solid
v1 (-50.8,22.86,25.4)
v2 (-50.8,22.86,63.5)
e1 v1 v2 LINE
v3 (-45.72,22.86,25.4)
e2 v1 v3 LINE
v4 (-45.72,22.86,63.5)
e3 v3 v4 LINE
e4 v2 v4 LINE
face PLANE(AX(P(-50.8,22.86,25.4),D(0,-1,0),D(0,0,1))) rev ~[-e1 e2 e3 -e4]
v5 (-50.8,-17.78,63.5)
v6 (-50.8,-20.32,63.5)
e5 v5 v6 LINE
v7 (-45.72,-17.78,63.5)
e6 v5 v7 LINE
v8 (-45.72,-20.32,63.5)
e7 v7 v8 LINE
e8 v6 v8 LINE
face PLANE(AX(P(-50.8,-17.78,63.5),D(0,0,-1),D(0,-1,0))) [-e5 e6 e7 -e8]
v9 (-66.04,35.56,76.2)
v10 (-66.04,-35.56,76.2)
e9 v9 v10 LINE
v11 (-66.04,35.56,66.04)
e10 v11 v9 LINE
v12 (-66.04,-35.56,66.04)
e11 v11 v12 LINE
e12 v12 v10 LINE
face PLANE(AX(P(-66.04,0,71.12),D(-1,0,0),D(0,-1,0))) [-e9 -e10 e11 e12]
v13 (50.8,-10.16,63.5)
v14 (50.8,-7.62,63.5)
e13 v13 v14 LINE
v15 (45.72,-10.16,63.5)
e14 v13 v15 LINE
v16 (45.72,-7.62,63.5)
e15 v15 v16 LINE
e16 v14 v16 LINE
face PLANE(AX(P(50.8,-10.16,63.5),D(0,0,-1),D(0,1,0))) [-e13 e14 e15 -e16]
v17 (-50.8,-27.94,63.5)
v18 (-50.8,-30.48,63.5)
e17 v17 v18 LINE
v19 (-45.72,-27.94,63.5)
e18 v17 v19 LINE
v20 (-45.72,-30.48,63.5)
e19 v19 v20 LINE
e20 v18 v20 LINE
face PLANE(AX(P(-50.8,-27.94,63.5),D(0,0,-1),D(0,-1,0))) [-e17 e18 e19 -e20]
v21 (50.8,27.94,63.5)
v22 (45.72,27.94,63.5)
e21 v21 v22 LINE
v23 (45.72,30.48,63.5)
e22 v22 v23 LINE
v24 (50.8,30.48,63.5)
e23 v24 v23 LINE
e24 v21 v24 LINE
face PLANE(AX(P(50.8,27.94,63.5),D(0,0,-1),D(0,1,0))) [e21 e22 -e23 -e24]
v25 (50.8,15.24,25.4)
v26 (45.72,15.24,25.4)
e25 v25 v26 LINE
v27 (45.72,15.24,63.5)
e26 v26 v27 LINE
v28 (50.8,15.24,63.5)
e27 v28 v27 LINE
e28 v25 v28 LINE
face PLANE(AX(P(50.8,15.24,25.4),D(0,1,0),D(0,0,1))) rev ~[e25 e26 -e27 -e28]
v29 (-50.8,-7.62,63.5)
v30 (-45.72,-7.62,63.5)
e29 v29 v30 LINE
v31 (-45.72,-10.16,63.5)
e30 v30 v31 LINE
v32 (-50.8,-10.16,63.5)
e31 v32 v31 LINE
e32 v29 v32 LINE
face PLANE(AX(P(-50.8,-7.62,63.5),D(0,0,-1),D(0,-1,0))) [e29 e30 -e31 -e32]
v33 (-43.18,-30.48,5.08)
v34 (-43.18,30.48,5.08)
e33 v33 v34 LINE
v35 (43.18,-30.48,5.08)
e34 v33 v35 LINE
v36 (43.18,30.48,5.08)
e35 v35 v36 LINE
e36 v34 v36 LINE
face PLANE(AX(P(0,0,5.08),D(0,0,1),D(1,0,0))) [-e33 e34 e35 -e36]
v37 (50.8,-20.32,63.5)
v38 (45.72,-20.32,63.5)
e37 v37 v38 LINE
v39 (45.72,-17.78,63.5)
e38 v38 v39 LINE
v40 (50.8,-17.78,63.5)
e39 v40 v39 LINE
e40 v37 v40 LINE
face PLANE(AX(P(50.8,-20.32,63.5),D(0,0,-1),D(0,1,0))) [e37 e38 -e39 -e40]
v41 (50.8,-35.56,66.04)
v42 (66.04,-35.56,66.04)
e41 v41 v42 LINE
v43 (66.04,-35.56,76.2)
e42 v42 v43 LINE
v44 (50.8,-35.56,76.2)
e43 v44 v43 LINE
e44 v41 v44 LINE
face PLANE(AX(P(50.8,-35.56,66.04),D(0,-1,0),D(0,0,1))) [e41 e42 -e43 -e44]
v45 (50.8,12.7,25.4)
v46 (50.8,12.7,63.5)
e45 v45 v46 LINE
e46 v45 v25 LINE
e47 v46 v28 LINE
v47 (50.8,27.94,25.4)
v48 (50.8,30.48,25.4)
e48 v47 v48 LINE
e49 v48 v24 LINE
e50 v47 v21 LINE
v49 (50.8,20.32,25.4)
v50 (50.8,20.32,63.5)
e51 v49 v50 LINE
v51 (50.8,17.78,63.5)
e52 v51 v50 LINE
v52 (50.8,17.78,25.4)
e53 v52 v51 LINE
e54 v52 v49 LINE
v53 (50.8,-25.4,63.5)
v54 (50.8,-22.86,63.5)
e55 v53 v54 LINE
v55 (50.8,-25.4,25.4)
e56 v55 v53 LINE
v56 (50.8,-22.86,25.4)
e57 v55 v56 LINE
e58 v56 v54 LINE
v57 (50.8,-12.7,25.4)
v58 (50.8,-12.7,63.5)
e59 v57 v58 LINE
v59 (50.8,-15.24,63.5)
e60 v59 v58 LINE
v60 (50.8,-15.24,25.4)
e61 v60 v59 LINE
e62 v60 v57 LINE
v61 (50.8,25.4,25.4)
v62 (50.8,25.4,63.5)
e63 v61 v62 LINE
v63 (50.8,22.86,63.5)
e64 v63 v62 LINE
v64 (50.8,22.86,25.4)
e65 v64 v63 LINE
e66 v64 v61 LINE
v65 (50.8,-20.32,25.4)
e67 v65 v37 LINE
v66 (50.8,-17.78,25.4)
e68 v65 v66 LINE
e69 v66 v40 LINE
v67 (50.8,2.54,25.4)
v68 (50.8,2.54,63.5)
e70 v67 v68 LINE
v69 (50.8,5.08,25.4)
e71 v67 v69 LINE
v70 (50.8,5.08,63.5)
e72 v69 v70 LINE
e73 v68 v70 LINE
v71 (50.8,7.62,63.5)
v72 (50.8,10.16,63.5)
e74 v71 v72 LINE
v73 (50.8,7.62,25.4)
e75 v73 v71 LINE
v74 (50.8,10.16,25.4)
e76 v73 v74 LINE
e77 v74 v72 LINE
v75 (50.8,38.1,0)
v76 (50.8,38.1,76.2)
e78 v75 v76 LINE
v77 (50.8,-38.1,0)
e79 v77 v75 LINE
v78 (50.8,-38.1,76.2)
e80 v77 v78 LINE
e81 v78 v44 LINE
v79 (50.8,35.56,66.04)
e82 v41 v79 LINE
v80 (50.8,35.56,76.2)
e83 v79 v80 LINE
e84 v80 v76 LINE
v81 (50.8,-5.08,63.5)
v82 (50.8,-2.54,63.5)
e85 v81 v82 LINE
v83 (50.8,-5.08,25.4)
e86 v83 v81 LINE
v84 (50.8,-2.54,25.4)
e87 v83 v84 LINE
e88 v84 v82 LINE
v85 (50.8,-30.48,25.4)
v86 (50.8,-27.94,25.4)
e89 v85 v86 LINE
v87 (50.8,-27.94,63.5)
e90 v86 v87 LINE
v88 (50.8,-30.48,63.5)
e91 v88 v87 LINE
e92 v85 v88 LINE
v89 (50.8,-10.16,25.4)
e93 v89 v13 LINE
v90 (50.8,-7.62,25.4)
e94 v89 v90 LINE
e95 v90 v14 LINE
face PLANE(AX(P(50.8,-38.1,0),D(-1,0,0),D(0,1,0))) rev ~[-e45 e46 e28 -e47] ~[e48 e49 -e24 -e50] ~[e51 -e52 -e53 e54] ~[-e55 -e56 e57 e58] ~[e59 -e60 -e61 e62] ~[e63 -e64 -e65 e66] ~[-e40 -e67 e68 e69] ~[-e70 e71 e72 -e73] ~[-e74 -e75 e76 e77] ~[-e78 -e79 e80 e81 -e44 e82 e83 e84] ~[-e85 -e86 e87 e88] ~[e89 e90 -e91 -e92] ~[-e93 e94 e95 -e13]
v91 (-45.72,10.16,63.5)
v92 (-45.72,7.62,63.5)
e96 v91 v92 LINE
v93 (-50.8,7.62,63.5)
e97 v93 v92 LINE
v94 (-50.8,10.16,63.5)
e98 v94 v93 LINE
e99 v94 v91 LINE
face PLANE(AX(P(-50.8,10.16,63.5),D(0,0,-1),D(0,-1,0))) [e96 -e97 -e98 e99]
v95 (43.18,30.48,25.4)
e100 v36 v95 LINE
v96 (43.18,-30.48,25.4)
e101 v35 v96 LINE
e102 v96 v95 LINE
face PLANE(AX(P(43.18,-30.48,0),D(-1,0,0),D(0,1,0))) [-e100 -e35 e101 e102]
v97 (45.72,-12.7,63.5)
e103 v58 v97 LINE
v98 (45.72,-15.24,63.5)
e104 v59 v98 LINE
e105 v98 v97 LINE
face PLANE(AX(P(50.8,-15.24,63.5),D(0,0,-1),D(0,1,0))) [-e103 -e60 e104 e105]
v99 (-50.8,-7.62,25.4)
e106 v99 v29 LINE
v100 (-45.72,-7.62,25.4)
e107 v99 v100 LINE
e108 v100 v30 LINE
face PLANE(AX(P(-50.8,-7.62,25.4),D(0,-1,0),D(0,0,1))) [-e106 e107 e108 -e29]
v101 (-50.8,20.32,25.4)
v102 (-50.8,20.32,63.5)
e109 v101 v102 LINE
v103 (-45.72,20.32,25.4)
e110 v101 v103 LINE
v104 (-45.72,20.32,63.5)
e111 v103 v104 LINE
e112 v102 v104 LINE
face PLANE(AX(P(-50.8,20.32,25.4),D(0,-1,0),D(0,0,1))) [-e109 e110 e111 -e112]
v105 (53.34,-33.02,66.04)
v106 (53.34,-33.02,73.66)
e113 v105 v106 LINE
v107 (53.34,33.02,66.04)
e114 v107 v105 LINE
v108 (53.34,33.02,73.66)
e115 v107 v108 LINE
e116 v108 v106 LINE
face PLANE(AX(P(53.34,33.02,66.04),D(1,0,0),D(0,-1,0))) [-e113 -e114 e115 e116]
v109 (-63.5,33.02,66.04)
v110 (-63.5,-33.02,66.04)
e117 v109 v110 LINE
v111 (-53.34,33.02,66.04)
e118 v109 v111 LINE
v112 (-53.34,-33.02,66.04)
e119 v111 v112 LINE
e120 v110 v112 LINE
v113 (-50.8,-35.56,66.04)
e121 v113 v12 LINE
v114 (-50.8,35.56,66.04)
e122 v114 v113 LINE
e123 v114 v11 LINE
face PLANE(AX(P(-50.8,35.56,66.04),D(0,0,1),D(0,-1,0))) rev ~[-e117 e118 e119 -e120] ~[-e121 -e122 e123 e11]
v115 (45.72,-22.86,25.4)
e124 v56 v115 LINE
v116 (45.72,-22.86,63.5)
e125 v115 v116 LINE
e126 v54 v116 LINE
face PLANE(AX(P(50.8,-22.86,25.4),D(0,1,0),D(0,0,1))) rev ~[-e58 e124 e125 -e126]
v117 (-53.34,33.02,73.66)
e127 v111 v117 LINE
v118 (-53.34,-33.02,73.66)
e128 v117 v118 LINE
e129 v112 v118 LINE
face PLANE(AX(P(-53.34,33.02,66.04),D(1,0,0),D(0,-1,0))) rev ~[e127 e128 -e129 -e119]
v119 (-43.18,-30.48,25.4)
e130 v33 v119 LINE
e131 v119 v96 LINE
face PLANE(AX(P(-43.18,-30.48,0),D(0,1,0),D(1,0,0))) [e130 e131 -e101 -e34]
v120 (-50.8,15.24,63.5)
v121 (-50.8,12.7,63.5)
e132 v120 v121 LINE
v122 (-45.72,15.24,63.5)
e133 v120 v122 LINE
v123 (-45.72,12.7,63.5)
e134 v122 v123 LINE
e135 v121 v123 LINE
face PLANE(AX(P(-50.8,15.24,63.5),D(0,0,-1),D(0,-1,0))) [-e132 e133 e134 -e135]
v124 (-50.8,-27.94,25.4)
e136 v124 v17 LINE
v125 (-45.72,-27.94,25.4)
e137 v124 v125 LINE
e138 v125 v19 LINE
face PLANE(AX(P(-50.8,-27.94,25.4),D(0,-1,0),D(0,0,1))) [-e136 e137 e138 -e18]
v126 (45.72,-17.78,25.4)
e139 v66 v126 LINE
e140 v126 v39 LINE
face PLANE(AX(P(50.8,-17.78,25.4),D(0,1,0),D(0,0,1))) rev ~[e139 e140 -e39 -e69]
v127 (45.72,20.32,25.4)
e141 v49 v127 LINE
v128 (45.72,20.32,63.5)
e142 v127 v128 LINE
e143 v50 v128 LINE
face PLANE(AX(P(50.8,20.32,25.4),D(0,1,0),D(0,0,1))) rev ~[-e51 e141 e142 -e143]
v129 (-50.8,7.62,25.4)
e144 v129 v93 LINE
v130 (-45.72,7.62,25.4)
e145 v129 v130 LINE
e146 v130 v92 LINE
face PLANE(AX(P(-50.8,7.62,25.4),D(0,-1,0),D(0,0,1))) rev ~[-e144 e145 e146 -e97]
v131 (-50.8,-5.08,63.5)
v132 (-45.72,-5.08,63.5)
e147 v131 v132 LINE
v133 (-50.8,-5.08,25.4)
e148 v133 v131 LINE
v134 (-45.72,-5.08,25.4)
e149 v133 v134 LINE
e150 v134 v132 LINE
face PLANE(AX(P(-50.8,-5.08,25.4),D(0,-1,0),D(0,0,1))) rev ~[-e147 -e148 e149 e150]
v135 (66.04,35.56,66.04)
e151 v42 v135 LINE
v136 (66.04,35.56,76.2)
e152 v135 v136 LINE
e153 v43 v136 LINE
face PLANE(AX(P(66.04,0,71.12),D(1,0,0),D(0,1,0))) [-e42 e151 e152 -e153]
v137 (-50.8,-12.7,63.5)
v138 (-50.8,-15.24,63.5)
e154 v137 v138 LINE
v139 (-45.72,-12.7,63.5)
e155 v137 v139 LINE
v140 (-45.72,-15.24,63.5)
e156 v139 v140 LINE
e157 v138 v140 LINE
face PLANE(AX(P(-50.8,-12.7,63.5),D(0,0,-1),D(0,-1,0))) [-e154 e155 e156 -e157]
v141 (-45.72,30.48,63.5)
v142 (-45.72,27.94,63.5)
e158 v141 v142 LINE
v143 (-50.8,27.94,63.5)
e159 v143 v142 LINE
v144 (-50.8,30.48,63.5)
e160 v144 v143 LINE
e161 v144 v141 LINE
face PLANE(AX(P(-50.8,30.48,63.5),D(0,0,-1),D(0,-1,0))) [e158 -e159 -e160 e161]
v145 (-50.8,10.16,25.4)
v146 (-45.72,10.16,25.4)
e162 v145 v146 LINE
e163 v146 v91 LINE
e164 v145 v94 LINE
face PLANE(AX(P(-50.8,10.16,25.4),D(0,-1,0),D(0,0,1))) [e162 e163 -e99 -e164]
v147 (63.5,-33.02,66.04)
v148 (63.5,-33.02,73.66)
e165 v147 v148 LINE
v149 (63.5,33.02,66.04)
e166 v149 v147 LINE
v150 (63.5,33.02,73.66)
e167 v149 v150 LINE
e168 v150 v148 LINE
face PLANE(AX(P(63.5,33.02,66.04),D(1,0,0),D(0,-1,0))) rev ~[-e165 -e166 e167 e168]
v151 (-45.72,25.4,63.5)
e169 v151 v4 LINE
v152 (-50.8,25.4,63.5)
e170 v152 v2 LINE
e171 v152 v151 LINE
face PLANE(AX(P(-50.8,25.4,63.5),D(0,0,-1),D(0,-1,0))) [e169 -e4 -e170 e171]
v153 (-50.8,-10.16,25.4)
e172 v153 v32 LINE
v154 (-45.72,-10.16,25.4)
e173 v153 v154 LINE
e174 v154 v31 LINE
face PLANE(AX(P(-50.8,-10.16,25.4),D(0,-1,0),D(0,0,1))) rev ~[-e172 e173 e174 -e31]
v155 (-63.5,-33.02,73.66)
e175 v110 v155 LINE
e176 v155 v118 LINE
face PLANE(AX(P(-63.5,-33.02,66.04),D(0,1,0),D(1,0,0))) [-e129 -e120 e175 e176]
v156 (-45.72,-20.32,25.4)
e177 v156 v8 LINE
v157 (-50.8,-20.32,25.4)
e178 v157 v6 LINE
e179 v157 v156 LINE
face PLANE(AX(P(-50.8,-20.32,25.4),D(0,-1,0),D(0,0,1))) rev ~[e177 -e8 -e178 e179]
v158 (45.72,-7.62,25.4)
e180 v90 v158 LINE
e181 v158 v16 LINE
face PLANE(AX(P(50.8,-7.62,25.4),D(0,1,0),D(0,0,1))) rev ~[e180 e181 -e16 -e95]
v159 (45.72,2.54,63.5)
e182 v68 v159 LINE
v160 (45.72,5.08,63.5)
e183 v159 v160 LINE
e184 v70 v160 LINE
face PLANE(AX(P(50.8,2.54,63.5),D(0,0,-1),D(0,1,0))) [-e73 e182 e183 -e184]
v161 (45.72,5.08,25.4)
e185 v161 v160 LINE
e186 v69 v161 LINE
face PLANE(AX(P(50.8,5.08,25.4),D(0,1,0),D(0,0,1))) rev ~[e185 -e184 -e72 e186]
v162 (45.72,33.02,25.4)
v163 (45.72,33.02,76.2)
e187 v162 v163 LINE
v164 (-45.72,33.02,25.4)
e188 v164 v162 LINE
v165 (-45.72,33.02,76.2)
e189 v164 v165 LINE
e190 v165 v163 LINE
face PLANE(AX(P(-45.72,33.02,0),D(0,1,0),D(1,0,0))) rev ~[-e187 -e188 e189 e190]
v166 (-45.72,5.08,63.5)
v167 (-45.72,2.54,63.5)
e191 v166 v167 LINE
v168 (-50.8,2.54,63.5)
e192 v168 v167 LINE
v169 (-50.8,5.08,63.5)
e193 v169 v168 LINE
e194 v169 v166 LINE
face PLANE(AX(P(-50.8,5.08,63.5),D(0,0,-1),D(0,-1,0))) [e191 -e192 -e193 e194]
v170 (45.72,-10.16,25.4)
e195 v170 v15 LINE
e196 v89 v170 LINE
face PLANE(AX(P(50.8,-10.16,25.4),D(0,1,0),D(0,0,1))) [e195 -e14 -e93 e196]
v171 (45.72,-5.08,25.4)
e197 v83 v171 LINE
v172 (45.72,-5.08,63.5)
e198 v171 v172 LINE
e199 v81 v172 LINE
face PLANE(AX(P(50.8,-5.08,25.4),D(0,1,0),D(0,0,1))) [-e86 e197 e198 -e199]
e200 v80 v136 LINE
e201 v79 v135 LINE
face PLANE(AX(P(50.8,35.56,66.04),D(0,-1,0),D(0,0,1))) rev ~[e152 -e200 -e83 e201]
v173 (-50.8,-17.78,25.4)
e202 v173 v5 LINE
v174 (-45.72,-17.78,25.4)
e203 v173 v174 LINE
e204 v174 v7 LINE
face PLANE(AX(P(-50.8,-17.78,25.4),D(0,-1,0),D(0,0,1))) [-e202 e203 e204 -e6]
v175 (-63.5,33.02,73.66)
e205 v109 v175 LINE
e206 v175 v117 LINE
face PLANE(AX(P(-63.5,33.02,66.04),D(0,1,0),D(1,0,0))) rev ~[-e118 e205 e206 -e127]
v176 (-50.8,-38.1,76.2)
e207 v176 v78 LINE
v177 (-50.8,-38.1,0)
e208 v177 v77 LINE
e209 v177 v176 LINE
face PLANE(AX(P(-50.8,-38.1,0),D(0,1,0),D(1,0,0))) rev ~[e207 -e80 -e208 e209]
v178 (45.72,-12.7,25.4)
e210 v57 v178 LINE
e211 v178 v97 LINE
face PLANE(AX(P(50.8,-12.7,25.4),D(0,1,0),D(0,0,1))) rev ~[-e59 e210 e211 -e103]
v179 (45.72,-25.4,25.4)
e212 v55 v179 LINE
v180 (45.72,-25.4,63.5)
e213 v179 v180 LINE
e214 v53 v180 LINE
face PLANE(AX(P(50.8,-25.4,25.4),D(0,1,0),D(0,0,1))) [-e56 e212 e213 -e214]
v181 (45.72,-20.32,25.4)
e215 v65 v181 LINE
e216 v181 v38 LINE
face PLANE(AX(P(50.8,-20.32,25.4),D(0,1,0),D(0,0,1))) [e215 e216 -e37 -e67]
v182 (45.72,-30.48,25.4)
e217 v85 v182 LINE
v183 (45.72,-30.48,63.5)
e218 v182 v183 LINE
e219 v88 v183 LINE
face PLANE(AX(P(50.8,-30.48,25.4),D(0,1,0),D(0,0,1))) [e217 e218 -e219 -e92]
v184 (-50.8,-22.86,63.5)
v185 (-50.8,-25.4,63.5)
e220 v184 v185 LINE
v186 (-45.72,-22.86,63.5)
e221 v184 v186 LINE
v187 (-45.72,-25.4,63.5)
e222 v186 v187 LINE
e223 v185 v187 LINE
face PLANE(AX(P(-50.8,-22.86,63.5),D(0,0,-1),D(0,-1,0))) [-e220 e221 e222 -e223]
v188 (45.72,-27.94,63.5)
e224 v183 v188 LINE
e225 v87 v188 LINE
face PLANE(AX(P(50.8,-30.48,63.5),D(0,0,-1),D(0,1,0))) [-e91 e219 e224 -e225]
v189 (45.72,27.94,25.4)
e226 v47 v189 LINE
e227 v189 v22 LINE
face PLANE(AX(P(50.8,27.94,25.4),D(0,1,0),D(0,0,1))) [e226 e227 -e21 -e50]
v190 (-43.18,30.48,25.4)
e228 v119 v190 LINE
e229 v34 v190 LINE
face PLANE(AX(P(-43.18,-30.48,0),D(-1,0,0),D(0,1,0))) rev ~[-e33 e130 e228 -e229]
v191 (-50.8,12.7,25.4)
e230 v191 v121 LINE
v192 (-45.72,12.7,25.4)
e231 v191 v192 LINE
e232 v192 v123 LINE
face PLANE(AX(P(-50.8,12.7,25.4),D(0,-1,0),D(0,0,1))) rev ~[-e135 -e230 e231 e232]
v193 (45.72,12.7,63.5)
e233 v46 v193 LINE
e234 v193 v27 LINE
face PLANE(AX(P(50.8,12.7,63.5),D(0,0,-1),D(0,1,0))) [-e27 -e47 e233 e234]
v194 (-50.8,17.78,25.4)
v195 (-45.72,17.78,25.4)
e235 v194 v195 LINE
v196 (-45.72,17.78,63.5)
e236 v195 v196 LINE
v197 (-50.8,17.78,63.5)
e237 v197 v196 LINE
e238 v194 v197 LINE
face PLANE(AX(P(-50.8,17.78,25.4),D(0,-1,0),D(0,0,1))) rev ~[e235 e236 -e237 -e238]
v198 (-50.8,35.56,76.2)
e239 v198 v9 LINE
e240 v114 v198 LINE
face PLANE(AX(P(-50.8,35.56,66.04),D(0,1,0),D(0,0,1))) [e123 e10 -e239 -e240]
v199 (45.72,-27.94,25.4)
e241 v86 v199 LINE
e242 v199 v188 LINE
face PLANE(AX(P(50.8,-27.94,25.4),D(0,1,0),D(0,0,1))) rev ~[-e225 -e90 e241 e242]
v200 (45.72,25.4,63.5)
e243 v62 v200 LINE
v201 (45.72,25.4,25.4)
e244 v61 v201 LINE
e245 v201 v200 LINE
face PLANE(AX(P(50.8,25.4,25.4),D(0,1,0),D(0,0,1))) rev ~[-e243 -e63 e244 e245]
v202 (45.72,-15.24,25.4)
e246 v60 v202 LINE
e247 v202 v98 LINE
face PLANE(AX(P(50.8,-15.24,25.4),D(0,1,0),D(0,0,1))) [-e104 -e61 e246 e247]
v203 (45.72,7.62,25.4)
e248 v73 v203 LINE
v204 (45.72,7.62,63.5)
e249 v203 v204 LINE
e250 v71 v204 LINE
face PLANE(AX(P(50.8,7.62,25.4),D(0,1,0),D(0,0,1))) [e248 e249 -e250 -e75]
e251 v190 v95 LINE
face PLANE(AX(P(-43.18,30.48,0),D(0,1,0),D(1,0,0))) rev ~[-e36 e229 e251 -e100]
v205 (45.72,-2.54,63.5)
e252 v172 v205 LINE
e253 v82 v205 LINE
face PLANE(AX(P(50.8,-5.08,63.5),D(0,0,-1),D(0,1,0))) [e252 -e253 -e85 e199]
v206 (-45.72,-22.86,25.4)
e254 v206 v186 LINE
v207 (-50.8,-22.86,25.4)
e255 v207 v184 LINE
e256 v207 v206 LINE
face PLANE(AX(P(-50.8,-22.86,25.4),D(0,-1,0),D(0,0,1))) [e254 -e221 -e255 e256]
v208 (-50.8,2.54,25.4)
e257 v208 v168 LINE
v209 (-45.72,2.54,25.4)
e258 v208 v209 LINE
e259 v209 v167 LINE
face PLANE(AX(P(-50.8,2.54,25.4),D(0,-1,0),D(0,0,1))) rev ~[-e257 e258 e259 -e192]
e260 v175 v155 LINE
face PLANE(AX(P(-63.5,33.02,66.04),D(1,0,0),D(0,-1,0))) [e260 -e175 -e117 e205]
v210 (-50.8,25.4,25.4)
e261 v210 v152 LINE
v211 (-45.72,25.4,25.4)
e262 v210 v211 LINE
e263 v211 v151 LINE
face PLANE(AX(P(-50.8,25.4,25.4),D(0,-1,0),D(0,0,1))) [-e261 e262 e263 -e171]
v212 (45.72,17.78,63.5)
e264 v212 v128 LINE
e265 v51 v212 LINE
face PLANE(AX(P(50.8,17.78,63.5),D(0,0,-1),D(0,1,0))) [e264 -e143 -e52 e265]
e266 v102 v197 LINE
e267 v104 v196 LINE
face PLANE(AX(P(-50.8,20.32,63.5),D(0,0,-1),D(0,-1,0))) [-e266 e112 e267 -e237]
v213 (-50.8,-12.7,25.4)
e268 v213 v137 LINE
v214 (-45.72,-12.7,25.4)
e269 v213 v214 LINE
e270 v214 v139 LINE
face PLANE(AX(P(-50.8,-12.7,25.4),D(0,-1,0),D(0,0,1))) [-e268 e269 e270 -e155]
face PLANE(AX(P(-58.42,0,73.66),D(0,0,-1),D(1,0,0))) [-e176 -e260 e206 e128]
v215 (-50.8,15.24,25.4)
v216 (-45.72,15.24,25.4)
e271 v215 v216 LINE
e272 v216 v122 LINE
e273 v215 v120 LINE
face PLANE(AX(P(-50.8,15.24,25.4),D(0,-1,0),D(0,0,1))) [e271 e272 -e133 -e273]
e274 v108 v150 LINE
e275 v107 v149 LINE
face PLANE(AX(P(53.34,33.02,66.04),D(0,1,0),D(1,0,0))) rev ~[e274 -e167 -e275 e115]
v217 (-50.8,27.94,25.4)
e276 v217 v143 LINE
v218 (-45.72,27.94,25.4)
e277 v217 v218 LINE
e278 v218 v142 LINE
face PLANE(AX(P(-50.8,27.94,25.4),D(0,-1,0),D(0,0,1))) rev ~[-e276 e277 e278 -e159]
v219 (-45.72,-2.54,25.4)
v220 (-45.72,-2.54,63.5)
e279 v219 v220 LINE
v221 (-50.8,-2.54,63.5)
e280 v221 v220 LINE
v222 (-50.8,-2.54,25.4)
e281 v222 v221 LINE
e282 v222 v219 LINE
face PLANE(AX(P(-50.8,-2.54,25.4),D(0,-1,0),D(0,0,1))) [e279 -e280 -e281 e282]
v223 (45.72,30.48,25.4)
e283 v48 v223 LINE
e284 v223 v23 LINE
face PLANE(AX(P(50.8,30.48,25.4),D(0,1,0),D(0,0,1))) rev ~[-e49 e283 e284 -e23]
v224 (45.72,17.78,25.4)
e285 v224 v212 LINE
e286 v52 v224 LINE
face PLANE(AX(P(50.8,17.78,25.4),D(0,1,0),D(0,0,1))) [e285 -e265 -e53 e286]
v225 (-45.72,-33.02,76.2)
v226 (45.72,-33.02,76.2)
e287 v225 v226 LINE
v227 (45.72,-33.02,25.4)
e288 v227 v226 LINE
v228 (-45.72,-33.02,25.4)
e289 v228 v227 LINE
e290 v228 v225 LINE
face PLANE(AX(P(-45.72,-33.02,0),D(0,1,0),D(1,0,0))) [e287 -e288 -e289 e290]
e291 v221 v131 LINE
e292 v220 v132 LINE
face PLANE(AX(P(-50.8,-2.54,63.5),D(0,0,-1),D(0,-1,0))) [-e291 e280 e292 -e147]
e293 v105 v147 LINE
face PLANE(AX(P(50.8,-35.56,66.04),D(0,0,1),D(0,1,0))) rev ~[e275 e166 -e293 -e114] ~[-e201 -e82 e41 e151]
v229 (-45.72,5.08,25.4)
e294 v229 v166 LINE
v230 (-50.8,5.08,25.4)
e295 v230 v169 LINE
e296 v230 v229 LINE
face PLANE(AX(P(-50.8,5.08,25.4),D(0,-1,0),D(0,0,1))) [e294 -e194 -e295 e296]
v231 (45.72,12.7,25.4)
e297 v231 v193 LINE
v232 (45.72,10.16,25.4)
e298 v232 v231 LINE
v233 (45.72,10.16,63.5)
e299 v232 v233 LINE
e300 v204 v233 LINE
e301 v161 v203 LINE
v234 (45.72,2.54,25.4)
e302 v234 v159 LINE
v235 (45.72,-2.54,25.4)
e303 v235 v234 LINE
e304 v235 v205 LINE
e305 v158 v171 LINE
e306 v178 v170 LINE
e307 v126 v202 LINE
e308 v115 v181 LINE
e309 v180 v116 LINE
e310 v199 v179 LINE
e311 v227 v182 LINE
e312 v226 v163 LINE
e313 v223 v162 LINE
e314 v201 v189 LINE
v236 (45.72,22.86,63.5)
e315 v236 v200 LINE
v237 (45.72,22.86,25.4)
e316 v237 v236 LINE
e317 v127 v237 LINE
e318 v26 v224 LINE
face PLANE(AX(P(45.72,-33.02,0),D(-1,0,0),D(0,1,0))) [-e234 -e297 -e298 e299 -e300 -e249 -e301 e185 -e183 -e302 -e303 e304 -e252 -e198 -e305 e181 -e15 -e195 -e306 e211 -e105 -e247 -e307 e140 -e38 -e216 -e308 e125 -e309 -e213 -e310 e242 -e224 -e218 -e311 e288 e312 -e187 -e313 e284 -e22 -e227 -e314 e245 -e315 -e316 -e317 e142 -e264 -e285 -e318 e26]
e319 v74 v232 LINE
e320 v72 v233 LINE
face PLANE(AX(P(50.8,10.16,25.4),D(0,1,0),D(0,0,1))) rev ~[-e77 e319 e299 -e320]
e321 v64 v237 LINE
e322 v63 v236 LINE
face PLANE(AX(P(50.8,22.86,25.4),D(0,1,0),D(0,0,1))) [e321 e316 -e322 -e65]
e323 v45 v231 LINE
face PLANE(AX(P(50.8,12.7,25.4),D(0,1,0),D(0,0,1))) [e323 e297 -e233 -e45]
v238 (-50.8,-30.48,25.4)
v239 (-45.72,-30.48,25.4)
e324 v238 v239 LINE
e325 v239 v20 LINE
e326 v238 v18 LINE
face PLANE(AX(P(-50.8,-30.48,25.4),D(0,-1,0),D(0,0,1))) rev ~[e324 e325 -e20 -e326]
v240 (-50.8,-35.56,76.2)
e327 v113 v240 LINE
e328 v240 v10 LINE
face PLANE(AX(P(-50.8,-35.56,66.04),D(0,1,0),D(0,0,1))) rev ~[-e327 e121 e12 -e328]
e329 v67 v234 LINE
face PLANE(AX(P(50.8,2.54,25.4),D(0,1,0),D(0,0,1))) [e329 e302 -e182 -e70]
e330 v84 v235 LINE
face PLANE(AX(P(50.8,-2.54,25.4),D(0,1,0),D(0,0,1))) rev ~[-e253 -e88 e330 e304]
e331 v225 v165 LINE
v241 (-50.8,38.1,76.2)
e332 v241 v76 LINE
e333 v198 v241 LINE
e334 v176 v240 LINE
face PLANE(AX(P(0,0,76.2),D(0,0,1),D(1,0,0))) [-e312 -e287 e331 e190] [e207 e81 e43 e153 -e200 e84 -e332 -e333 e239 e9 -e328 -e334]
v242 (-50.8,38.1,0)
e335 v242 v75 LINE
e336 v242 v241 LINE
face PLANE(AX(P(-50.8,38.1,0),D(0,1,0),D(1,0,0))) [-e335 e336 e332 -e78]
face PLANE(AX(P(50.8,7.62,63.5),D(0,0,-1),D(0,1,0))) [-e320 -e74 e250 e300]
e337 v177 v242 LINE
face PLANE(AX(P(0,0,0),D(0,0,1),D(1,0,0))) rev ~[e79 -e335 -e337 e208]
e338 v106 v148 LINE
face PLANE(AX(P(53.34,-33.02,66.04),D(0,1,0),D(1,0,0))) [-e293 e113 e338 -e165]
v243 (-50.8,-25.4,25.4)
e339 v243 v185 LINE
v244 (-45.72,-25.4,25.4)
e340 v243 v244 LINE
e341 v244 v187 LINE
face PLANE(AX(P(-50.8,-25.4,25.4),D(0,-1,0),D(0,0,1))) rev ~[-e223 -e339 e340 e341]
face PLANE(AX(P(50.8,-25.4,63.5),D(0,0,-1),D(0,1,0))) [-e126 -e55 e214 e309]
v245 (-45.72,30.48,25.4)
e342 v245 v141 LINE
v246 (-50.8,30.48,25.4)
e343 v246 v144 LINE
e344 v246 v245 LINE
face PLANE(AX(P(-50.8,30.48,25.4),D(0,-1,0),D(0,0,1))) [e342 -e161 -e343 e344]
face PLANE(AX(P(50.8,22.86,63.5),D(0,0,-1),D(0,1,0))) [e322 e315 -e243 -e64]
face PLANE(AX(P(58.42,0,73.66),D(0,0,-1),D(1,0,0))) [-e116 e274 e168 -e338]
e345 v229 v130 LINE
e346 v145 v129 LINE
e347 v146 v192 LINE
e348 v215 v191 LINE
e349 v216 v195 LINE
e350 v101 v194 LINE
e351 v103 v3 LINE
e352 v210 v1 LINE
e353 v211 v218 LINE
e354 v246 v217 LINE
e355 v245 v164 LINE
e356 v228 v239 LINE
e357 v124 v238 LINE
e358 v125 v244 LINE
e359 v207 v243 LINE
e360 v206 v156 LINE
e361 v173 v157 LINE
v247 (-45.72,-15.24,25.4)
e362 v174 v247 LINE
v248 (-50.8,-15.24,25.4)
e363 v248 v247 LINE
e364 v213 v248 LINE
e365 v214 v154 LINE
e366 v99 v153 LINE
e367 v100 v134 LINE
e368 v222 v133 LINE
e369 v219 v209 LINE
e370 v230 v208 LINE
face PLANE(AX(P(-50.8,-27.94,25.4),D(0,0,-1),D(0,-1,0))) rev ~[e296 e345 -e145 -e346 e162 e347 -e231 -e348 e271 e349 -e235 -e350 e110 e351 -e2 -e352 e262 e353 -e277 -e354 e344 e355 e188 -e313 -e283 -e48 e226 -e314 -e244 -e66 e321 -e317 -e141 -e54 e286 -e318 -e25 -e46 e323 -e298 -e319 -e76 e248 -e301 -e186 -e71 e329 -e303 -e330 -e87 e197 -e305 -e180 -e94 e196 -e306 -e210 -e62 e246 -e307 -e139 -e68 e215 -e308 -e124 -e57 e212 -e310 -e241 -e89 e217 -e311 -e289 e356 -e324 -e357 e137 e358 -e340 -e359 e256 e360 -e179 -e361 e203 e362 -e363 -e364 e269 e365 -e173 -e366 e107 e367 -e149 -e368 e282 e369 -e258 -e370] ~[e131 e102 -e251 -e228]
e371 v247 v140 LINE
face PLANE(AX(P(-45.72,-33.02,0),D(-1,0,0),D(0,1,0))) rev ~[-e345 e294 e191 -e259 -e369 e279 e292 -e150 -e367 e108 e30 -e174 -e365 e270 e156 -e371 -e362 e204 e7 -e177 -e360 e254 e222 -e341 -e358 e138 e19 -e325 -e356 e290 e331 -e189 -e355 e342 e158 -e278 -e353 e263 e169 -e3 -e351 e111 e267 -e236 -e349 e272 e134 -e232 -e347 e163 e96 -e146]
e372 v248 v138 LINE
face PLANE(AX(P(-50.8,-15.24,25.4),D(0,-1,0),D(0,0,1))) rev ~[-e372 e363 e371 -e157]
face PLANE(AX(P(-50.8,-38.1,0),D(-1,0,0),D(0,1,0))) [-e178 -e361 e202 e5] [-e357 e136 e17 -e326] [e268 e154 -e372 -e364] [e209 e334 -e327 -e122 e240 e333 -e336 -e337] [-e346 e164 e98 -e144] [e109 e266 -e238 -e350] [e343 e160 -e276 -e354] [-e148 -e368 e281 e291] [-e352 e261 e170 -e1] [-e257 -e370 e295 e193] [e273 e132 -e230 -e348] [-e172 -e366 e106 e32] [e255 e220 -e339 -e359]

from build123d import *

# Parameters (mm, degrees)
F0_W      = 91.44
F0_H      = 66.04
F0_W_2    = 86.36
F0_H_2    = 60.96
F1_DEPTH  = 25.4
F0_W_3    = 101.6
F0_H_3    = 76.2
F2_DEPTH  = 76.2
F3_W      = 2.54
F3_H      = 38.1
F4_DEPTH  = 5.08
F5_DEPTH  = 5.08
F6_W      = 2.54
F6_H      = 38.1
F7_DEPTH  = 5.08
F8_W      = 71.12
F8_H      = 10.16
F9_DEPTH  = 15.24
F10_W     = 71.12
F10_H     = 10.16
F11_DEPTH = 15.24
F12_W     = 10.16
F12_H     = 66.04
F13_DEPTH = 7.62


with BuildPart() as f1:
    # F0 (on Top) → F1 (new body)
    with BuildSketch(Plane.XY):
        Rectangle(F0_W, F0_H)
        Rectangle(F0_W_2, F0_H_2, mode=Mode.SUBTRACT)
    extrude(amount=F1_DEPTH)

    # F0 (on Top) → F2 (join)
    with BuildSketch(Plane.XY):
        Rectangle(F0_W_3, F0_H_3)
        Rectangle(F0_W, F0_H, mode=Mode.SUBTRACT)
    extrude(amount=F2_DEPTH)

    # F3 (on face) → F4 (cut)
    with BuildSketch(Plane.YZ.offset(50.8)):
        with Locations((-29.21, 44.45)):
            Rectangle(F3_W, F3_H)
        with Locations((-24.13, 44.45)):
            Rectangle(F3_W, F3_H)
        with Locations((-19.05, 44.45)):
            Rectangle(F3_W, F3_H)
        with Locations((-13.97, 44.45)):
            Rectangle(F3_W, F3_H)
        with Locations((-8.89, 44.45)):
            Rectangle(F3_W, F3_H)
        with Locations((-3.81, 44.45)):
            Rectangle(F3_W, F3_H)
        with Locations((3.81, 44.45)):
            Rectangle(F3_W, F3_H)
        with Locations((8.89, 44.45)):
            Rectangle(F3_W, F3_H)
        with Locations((13.97, 44.45)):
            Rectangle(F3_W, F3_H)
        with Locations((19.05, 44.45)):
            Rectangle(F3_W, F3_H)
        with Locations((24.13, 44.45)):
            Rectangle(F3_W, F3_H)
        with Locations((29.21, 44.45)):
            Rectangle(F3_W, F3_H)
    extrude(amount=-F4_DEPTH, mode=Mode.SUBTRACT)

    # F0 (on Top) → F5 (join)
    with BuildSketch(Plane.XY):
        Rectangle(F0_W_2, F0_H_2)
    extrude(amount=F5_DEPTH)

    # F6 (on face) → F7 (cut)
    with BuildSketch(Plane(origin=(-50.8, 0, 0), x_dir=(0, -1, 0), z_dir=(-1, 0, 0))):
        with Locations((-3.81, 44.45)):
            Rectangle(F6_W, F6_H)
        with Locations((3.81, 44.45)):
            Rectangle(F6_W, F6_H)
        with Locations((8.89, 44.45)):
            Rectangle(F6_W, F6_H)
        with Locations((13.97, 44.45)):
            Rectangle(F6_W, F6_H)
        with Locations((-8.89, 44.45)):
            Rectangle(F6_W, F6_H)
        with Locations((-13.97, 44.45)):
            Rectangle(F6_W, F6_H)
        with Locations((19.05, 44.45)):
            Rectangle(F6_W, F6_H)
        with Locations((24.13, 44.45)):
            Rectangle(F6_W, F6_H)
        with Locations((29.21, 44.45)):
            Rectangle(F6_W, F6_H)
        with Locations((-19.05, 44.45)):
            Rectangle(F6_W, F6_H)
        with Locations((-24.13, 44.45)):
            Rectangle(F6_W, F6_H)
        with Locations((-29.21, 44.45)):
            Rectangle(F6_W, F6_H)
    extrude(amount=-F7_DEPTH, mode=Mode.SUBTRACT)

    # F8 (on face) → F9 (join)
    with BuildSketch(Plane(origin=(-50.8, 0, 0), x_dir=(0, -1, 0), z_dir=(-1, 0, 0))):
        with Locations((0, 71.12)):
            Rectangle(F8_W, F8_H)
    extrude(amount=F9_DEPTH)

    # F10 (on face) → F11 (join)
    with BuildSketch(Plane.YZ.offset(50.8)):
        with Locations((0, 71.12)):
            Rectangle(F10_W, F10_H)
    extrude(amount=F11_DEPTH)

    # F12 (on face) → F13 (cut)
    with BuildSketch(Plane(origin=(0, 0, 66.04), x_dir=(1, 0, 0), z_dir=(0, 0, -1))):
        with Locations((58.42, 0)):
            Rectangle(F12_W, F12_H)
        with Locations((-58.42, 0)):
            Rectangle(F12_W, F12_H)
    extrude(amount=-F13_DEPTH, mode=Mode.SUBTRACT)


solid = f1.part
